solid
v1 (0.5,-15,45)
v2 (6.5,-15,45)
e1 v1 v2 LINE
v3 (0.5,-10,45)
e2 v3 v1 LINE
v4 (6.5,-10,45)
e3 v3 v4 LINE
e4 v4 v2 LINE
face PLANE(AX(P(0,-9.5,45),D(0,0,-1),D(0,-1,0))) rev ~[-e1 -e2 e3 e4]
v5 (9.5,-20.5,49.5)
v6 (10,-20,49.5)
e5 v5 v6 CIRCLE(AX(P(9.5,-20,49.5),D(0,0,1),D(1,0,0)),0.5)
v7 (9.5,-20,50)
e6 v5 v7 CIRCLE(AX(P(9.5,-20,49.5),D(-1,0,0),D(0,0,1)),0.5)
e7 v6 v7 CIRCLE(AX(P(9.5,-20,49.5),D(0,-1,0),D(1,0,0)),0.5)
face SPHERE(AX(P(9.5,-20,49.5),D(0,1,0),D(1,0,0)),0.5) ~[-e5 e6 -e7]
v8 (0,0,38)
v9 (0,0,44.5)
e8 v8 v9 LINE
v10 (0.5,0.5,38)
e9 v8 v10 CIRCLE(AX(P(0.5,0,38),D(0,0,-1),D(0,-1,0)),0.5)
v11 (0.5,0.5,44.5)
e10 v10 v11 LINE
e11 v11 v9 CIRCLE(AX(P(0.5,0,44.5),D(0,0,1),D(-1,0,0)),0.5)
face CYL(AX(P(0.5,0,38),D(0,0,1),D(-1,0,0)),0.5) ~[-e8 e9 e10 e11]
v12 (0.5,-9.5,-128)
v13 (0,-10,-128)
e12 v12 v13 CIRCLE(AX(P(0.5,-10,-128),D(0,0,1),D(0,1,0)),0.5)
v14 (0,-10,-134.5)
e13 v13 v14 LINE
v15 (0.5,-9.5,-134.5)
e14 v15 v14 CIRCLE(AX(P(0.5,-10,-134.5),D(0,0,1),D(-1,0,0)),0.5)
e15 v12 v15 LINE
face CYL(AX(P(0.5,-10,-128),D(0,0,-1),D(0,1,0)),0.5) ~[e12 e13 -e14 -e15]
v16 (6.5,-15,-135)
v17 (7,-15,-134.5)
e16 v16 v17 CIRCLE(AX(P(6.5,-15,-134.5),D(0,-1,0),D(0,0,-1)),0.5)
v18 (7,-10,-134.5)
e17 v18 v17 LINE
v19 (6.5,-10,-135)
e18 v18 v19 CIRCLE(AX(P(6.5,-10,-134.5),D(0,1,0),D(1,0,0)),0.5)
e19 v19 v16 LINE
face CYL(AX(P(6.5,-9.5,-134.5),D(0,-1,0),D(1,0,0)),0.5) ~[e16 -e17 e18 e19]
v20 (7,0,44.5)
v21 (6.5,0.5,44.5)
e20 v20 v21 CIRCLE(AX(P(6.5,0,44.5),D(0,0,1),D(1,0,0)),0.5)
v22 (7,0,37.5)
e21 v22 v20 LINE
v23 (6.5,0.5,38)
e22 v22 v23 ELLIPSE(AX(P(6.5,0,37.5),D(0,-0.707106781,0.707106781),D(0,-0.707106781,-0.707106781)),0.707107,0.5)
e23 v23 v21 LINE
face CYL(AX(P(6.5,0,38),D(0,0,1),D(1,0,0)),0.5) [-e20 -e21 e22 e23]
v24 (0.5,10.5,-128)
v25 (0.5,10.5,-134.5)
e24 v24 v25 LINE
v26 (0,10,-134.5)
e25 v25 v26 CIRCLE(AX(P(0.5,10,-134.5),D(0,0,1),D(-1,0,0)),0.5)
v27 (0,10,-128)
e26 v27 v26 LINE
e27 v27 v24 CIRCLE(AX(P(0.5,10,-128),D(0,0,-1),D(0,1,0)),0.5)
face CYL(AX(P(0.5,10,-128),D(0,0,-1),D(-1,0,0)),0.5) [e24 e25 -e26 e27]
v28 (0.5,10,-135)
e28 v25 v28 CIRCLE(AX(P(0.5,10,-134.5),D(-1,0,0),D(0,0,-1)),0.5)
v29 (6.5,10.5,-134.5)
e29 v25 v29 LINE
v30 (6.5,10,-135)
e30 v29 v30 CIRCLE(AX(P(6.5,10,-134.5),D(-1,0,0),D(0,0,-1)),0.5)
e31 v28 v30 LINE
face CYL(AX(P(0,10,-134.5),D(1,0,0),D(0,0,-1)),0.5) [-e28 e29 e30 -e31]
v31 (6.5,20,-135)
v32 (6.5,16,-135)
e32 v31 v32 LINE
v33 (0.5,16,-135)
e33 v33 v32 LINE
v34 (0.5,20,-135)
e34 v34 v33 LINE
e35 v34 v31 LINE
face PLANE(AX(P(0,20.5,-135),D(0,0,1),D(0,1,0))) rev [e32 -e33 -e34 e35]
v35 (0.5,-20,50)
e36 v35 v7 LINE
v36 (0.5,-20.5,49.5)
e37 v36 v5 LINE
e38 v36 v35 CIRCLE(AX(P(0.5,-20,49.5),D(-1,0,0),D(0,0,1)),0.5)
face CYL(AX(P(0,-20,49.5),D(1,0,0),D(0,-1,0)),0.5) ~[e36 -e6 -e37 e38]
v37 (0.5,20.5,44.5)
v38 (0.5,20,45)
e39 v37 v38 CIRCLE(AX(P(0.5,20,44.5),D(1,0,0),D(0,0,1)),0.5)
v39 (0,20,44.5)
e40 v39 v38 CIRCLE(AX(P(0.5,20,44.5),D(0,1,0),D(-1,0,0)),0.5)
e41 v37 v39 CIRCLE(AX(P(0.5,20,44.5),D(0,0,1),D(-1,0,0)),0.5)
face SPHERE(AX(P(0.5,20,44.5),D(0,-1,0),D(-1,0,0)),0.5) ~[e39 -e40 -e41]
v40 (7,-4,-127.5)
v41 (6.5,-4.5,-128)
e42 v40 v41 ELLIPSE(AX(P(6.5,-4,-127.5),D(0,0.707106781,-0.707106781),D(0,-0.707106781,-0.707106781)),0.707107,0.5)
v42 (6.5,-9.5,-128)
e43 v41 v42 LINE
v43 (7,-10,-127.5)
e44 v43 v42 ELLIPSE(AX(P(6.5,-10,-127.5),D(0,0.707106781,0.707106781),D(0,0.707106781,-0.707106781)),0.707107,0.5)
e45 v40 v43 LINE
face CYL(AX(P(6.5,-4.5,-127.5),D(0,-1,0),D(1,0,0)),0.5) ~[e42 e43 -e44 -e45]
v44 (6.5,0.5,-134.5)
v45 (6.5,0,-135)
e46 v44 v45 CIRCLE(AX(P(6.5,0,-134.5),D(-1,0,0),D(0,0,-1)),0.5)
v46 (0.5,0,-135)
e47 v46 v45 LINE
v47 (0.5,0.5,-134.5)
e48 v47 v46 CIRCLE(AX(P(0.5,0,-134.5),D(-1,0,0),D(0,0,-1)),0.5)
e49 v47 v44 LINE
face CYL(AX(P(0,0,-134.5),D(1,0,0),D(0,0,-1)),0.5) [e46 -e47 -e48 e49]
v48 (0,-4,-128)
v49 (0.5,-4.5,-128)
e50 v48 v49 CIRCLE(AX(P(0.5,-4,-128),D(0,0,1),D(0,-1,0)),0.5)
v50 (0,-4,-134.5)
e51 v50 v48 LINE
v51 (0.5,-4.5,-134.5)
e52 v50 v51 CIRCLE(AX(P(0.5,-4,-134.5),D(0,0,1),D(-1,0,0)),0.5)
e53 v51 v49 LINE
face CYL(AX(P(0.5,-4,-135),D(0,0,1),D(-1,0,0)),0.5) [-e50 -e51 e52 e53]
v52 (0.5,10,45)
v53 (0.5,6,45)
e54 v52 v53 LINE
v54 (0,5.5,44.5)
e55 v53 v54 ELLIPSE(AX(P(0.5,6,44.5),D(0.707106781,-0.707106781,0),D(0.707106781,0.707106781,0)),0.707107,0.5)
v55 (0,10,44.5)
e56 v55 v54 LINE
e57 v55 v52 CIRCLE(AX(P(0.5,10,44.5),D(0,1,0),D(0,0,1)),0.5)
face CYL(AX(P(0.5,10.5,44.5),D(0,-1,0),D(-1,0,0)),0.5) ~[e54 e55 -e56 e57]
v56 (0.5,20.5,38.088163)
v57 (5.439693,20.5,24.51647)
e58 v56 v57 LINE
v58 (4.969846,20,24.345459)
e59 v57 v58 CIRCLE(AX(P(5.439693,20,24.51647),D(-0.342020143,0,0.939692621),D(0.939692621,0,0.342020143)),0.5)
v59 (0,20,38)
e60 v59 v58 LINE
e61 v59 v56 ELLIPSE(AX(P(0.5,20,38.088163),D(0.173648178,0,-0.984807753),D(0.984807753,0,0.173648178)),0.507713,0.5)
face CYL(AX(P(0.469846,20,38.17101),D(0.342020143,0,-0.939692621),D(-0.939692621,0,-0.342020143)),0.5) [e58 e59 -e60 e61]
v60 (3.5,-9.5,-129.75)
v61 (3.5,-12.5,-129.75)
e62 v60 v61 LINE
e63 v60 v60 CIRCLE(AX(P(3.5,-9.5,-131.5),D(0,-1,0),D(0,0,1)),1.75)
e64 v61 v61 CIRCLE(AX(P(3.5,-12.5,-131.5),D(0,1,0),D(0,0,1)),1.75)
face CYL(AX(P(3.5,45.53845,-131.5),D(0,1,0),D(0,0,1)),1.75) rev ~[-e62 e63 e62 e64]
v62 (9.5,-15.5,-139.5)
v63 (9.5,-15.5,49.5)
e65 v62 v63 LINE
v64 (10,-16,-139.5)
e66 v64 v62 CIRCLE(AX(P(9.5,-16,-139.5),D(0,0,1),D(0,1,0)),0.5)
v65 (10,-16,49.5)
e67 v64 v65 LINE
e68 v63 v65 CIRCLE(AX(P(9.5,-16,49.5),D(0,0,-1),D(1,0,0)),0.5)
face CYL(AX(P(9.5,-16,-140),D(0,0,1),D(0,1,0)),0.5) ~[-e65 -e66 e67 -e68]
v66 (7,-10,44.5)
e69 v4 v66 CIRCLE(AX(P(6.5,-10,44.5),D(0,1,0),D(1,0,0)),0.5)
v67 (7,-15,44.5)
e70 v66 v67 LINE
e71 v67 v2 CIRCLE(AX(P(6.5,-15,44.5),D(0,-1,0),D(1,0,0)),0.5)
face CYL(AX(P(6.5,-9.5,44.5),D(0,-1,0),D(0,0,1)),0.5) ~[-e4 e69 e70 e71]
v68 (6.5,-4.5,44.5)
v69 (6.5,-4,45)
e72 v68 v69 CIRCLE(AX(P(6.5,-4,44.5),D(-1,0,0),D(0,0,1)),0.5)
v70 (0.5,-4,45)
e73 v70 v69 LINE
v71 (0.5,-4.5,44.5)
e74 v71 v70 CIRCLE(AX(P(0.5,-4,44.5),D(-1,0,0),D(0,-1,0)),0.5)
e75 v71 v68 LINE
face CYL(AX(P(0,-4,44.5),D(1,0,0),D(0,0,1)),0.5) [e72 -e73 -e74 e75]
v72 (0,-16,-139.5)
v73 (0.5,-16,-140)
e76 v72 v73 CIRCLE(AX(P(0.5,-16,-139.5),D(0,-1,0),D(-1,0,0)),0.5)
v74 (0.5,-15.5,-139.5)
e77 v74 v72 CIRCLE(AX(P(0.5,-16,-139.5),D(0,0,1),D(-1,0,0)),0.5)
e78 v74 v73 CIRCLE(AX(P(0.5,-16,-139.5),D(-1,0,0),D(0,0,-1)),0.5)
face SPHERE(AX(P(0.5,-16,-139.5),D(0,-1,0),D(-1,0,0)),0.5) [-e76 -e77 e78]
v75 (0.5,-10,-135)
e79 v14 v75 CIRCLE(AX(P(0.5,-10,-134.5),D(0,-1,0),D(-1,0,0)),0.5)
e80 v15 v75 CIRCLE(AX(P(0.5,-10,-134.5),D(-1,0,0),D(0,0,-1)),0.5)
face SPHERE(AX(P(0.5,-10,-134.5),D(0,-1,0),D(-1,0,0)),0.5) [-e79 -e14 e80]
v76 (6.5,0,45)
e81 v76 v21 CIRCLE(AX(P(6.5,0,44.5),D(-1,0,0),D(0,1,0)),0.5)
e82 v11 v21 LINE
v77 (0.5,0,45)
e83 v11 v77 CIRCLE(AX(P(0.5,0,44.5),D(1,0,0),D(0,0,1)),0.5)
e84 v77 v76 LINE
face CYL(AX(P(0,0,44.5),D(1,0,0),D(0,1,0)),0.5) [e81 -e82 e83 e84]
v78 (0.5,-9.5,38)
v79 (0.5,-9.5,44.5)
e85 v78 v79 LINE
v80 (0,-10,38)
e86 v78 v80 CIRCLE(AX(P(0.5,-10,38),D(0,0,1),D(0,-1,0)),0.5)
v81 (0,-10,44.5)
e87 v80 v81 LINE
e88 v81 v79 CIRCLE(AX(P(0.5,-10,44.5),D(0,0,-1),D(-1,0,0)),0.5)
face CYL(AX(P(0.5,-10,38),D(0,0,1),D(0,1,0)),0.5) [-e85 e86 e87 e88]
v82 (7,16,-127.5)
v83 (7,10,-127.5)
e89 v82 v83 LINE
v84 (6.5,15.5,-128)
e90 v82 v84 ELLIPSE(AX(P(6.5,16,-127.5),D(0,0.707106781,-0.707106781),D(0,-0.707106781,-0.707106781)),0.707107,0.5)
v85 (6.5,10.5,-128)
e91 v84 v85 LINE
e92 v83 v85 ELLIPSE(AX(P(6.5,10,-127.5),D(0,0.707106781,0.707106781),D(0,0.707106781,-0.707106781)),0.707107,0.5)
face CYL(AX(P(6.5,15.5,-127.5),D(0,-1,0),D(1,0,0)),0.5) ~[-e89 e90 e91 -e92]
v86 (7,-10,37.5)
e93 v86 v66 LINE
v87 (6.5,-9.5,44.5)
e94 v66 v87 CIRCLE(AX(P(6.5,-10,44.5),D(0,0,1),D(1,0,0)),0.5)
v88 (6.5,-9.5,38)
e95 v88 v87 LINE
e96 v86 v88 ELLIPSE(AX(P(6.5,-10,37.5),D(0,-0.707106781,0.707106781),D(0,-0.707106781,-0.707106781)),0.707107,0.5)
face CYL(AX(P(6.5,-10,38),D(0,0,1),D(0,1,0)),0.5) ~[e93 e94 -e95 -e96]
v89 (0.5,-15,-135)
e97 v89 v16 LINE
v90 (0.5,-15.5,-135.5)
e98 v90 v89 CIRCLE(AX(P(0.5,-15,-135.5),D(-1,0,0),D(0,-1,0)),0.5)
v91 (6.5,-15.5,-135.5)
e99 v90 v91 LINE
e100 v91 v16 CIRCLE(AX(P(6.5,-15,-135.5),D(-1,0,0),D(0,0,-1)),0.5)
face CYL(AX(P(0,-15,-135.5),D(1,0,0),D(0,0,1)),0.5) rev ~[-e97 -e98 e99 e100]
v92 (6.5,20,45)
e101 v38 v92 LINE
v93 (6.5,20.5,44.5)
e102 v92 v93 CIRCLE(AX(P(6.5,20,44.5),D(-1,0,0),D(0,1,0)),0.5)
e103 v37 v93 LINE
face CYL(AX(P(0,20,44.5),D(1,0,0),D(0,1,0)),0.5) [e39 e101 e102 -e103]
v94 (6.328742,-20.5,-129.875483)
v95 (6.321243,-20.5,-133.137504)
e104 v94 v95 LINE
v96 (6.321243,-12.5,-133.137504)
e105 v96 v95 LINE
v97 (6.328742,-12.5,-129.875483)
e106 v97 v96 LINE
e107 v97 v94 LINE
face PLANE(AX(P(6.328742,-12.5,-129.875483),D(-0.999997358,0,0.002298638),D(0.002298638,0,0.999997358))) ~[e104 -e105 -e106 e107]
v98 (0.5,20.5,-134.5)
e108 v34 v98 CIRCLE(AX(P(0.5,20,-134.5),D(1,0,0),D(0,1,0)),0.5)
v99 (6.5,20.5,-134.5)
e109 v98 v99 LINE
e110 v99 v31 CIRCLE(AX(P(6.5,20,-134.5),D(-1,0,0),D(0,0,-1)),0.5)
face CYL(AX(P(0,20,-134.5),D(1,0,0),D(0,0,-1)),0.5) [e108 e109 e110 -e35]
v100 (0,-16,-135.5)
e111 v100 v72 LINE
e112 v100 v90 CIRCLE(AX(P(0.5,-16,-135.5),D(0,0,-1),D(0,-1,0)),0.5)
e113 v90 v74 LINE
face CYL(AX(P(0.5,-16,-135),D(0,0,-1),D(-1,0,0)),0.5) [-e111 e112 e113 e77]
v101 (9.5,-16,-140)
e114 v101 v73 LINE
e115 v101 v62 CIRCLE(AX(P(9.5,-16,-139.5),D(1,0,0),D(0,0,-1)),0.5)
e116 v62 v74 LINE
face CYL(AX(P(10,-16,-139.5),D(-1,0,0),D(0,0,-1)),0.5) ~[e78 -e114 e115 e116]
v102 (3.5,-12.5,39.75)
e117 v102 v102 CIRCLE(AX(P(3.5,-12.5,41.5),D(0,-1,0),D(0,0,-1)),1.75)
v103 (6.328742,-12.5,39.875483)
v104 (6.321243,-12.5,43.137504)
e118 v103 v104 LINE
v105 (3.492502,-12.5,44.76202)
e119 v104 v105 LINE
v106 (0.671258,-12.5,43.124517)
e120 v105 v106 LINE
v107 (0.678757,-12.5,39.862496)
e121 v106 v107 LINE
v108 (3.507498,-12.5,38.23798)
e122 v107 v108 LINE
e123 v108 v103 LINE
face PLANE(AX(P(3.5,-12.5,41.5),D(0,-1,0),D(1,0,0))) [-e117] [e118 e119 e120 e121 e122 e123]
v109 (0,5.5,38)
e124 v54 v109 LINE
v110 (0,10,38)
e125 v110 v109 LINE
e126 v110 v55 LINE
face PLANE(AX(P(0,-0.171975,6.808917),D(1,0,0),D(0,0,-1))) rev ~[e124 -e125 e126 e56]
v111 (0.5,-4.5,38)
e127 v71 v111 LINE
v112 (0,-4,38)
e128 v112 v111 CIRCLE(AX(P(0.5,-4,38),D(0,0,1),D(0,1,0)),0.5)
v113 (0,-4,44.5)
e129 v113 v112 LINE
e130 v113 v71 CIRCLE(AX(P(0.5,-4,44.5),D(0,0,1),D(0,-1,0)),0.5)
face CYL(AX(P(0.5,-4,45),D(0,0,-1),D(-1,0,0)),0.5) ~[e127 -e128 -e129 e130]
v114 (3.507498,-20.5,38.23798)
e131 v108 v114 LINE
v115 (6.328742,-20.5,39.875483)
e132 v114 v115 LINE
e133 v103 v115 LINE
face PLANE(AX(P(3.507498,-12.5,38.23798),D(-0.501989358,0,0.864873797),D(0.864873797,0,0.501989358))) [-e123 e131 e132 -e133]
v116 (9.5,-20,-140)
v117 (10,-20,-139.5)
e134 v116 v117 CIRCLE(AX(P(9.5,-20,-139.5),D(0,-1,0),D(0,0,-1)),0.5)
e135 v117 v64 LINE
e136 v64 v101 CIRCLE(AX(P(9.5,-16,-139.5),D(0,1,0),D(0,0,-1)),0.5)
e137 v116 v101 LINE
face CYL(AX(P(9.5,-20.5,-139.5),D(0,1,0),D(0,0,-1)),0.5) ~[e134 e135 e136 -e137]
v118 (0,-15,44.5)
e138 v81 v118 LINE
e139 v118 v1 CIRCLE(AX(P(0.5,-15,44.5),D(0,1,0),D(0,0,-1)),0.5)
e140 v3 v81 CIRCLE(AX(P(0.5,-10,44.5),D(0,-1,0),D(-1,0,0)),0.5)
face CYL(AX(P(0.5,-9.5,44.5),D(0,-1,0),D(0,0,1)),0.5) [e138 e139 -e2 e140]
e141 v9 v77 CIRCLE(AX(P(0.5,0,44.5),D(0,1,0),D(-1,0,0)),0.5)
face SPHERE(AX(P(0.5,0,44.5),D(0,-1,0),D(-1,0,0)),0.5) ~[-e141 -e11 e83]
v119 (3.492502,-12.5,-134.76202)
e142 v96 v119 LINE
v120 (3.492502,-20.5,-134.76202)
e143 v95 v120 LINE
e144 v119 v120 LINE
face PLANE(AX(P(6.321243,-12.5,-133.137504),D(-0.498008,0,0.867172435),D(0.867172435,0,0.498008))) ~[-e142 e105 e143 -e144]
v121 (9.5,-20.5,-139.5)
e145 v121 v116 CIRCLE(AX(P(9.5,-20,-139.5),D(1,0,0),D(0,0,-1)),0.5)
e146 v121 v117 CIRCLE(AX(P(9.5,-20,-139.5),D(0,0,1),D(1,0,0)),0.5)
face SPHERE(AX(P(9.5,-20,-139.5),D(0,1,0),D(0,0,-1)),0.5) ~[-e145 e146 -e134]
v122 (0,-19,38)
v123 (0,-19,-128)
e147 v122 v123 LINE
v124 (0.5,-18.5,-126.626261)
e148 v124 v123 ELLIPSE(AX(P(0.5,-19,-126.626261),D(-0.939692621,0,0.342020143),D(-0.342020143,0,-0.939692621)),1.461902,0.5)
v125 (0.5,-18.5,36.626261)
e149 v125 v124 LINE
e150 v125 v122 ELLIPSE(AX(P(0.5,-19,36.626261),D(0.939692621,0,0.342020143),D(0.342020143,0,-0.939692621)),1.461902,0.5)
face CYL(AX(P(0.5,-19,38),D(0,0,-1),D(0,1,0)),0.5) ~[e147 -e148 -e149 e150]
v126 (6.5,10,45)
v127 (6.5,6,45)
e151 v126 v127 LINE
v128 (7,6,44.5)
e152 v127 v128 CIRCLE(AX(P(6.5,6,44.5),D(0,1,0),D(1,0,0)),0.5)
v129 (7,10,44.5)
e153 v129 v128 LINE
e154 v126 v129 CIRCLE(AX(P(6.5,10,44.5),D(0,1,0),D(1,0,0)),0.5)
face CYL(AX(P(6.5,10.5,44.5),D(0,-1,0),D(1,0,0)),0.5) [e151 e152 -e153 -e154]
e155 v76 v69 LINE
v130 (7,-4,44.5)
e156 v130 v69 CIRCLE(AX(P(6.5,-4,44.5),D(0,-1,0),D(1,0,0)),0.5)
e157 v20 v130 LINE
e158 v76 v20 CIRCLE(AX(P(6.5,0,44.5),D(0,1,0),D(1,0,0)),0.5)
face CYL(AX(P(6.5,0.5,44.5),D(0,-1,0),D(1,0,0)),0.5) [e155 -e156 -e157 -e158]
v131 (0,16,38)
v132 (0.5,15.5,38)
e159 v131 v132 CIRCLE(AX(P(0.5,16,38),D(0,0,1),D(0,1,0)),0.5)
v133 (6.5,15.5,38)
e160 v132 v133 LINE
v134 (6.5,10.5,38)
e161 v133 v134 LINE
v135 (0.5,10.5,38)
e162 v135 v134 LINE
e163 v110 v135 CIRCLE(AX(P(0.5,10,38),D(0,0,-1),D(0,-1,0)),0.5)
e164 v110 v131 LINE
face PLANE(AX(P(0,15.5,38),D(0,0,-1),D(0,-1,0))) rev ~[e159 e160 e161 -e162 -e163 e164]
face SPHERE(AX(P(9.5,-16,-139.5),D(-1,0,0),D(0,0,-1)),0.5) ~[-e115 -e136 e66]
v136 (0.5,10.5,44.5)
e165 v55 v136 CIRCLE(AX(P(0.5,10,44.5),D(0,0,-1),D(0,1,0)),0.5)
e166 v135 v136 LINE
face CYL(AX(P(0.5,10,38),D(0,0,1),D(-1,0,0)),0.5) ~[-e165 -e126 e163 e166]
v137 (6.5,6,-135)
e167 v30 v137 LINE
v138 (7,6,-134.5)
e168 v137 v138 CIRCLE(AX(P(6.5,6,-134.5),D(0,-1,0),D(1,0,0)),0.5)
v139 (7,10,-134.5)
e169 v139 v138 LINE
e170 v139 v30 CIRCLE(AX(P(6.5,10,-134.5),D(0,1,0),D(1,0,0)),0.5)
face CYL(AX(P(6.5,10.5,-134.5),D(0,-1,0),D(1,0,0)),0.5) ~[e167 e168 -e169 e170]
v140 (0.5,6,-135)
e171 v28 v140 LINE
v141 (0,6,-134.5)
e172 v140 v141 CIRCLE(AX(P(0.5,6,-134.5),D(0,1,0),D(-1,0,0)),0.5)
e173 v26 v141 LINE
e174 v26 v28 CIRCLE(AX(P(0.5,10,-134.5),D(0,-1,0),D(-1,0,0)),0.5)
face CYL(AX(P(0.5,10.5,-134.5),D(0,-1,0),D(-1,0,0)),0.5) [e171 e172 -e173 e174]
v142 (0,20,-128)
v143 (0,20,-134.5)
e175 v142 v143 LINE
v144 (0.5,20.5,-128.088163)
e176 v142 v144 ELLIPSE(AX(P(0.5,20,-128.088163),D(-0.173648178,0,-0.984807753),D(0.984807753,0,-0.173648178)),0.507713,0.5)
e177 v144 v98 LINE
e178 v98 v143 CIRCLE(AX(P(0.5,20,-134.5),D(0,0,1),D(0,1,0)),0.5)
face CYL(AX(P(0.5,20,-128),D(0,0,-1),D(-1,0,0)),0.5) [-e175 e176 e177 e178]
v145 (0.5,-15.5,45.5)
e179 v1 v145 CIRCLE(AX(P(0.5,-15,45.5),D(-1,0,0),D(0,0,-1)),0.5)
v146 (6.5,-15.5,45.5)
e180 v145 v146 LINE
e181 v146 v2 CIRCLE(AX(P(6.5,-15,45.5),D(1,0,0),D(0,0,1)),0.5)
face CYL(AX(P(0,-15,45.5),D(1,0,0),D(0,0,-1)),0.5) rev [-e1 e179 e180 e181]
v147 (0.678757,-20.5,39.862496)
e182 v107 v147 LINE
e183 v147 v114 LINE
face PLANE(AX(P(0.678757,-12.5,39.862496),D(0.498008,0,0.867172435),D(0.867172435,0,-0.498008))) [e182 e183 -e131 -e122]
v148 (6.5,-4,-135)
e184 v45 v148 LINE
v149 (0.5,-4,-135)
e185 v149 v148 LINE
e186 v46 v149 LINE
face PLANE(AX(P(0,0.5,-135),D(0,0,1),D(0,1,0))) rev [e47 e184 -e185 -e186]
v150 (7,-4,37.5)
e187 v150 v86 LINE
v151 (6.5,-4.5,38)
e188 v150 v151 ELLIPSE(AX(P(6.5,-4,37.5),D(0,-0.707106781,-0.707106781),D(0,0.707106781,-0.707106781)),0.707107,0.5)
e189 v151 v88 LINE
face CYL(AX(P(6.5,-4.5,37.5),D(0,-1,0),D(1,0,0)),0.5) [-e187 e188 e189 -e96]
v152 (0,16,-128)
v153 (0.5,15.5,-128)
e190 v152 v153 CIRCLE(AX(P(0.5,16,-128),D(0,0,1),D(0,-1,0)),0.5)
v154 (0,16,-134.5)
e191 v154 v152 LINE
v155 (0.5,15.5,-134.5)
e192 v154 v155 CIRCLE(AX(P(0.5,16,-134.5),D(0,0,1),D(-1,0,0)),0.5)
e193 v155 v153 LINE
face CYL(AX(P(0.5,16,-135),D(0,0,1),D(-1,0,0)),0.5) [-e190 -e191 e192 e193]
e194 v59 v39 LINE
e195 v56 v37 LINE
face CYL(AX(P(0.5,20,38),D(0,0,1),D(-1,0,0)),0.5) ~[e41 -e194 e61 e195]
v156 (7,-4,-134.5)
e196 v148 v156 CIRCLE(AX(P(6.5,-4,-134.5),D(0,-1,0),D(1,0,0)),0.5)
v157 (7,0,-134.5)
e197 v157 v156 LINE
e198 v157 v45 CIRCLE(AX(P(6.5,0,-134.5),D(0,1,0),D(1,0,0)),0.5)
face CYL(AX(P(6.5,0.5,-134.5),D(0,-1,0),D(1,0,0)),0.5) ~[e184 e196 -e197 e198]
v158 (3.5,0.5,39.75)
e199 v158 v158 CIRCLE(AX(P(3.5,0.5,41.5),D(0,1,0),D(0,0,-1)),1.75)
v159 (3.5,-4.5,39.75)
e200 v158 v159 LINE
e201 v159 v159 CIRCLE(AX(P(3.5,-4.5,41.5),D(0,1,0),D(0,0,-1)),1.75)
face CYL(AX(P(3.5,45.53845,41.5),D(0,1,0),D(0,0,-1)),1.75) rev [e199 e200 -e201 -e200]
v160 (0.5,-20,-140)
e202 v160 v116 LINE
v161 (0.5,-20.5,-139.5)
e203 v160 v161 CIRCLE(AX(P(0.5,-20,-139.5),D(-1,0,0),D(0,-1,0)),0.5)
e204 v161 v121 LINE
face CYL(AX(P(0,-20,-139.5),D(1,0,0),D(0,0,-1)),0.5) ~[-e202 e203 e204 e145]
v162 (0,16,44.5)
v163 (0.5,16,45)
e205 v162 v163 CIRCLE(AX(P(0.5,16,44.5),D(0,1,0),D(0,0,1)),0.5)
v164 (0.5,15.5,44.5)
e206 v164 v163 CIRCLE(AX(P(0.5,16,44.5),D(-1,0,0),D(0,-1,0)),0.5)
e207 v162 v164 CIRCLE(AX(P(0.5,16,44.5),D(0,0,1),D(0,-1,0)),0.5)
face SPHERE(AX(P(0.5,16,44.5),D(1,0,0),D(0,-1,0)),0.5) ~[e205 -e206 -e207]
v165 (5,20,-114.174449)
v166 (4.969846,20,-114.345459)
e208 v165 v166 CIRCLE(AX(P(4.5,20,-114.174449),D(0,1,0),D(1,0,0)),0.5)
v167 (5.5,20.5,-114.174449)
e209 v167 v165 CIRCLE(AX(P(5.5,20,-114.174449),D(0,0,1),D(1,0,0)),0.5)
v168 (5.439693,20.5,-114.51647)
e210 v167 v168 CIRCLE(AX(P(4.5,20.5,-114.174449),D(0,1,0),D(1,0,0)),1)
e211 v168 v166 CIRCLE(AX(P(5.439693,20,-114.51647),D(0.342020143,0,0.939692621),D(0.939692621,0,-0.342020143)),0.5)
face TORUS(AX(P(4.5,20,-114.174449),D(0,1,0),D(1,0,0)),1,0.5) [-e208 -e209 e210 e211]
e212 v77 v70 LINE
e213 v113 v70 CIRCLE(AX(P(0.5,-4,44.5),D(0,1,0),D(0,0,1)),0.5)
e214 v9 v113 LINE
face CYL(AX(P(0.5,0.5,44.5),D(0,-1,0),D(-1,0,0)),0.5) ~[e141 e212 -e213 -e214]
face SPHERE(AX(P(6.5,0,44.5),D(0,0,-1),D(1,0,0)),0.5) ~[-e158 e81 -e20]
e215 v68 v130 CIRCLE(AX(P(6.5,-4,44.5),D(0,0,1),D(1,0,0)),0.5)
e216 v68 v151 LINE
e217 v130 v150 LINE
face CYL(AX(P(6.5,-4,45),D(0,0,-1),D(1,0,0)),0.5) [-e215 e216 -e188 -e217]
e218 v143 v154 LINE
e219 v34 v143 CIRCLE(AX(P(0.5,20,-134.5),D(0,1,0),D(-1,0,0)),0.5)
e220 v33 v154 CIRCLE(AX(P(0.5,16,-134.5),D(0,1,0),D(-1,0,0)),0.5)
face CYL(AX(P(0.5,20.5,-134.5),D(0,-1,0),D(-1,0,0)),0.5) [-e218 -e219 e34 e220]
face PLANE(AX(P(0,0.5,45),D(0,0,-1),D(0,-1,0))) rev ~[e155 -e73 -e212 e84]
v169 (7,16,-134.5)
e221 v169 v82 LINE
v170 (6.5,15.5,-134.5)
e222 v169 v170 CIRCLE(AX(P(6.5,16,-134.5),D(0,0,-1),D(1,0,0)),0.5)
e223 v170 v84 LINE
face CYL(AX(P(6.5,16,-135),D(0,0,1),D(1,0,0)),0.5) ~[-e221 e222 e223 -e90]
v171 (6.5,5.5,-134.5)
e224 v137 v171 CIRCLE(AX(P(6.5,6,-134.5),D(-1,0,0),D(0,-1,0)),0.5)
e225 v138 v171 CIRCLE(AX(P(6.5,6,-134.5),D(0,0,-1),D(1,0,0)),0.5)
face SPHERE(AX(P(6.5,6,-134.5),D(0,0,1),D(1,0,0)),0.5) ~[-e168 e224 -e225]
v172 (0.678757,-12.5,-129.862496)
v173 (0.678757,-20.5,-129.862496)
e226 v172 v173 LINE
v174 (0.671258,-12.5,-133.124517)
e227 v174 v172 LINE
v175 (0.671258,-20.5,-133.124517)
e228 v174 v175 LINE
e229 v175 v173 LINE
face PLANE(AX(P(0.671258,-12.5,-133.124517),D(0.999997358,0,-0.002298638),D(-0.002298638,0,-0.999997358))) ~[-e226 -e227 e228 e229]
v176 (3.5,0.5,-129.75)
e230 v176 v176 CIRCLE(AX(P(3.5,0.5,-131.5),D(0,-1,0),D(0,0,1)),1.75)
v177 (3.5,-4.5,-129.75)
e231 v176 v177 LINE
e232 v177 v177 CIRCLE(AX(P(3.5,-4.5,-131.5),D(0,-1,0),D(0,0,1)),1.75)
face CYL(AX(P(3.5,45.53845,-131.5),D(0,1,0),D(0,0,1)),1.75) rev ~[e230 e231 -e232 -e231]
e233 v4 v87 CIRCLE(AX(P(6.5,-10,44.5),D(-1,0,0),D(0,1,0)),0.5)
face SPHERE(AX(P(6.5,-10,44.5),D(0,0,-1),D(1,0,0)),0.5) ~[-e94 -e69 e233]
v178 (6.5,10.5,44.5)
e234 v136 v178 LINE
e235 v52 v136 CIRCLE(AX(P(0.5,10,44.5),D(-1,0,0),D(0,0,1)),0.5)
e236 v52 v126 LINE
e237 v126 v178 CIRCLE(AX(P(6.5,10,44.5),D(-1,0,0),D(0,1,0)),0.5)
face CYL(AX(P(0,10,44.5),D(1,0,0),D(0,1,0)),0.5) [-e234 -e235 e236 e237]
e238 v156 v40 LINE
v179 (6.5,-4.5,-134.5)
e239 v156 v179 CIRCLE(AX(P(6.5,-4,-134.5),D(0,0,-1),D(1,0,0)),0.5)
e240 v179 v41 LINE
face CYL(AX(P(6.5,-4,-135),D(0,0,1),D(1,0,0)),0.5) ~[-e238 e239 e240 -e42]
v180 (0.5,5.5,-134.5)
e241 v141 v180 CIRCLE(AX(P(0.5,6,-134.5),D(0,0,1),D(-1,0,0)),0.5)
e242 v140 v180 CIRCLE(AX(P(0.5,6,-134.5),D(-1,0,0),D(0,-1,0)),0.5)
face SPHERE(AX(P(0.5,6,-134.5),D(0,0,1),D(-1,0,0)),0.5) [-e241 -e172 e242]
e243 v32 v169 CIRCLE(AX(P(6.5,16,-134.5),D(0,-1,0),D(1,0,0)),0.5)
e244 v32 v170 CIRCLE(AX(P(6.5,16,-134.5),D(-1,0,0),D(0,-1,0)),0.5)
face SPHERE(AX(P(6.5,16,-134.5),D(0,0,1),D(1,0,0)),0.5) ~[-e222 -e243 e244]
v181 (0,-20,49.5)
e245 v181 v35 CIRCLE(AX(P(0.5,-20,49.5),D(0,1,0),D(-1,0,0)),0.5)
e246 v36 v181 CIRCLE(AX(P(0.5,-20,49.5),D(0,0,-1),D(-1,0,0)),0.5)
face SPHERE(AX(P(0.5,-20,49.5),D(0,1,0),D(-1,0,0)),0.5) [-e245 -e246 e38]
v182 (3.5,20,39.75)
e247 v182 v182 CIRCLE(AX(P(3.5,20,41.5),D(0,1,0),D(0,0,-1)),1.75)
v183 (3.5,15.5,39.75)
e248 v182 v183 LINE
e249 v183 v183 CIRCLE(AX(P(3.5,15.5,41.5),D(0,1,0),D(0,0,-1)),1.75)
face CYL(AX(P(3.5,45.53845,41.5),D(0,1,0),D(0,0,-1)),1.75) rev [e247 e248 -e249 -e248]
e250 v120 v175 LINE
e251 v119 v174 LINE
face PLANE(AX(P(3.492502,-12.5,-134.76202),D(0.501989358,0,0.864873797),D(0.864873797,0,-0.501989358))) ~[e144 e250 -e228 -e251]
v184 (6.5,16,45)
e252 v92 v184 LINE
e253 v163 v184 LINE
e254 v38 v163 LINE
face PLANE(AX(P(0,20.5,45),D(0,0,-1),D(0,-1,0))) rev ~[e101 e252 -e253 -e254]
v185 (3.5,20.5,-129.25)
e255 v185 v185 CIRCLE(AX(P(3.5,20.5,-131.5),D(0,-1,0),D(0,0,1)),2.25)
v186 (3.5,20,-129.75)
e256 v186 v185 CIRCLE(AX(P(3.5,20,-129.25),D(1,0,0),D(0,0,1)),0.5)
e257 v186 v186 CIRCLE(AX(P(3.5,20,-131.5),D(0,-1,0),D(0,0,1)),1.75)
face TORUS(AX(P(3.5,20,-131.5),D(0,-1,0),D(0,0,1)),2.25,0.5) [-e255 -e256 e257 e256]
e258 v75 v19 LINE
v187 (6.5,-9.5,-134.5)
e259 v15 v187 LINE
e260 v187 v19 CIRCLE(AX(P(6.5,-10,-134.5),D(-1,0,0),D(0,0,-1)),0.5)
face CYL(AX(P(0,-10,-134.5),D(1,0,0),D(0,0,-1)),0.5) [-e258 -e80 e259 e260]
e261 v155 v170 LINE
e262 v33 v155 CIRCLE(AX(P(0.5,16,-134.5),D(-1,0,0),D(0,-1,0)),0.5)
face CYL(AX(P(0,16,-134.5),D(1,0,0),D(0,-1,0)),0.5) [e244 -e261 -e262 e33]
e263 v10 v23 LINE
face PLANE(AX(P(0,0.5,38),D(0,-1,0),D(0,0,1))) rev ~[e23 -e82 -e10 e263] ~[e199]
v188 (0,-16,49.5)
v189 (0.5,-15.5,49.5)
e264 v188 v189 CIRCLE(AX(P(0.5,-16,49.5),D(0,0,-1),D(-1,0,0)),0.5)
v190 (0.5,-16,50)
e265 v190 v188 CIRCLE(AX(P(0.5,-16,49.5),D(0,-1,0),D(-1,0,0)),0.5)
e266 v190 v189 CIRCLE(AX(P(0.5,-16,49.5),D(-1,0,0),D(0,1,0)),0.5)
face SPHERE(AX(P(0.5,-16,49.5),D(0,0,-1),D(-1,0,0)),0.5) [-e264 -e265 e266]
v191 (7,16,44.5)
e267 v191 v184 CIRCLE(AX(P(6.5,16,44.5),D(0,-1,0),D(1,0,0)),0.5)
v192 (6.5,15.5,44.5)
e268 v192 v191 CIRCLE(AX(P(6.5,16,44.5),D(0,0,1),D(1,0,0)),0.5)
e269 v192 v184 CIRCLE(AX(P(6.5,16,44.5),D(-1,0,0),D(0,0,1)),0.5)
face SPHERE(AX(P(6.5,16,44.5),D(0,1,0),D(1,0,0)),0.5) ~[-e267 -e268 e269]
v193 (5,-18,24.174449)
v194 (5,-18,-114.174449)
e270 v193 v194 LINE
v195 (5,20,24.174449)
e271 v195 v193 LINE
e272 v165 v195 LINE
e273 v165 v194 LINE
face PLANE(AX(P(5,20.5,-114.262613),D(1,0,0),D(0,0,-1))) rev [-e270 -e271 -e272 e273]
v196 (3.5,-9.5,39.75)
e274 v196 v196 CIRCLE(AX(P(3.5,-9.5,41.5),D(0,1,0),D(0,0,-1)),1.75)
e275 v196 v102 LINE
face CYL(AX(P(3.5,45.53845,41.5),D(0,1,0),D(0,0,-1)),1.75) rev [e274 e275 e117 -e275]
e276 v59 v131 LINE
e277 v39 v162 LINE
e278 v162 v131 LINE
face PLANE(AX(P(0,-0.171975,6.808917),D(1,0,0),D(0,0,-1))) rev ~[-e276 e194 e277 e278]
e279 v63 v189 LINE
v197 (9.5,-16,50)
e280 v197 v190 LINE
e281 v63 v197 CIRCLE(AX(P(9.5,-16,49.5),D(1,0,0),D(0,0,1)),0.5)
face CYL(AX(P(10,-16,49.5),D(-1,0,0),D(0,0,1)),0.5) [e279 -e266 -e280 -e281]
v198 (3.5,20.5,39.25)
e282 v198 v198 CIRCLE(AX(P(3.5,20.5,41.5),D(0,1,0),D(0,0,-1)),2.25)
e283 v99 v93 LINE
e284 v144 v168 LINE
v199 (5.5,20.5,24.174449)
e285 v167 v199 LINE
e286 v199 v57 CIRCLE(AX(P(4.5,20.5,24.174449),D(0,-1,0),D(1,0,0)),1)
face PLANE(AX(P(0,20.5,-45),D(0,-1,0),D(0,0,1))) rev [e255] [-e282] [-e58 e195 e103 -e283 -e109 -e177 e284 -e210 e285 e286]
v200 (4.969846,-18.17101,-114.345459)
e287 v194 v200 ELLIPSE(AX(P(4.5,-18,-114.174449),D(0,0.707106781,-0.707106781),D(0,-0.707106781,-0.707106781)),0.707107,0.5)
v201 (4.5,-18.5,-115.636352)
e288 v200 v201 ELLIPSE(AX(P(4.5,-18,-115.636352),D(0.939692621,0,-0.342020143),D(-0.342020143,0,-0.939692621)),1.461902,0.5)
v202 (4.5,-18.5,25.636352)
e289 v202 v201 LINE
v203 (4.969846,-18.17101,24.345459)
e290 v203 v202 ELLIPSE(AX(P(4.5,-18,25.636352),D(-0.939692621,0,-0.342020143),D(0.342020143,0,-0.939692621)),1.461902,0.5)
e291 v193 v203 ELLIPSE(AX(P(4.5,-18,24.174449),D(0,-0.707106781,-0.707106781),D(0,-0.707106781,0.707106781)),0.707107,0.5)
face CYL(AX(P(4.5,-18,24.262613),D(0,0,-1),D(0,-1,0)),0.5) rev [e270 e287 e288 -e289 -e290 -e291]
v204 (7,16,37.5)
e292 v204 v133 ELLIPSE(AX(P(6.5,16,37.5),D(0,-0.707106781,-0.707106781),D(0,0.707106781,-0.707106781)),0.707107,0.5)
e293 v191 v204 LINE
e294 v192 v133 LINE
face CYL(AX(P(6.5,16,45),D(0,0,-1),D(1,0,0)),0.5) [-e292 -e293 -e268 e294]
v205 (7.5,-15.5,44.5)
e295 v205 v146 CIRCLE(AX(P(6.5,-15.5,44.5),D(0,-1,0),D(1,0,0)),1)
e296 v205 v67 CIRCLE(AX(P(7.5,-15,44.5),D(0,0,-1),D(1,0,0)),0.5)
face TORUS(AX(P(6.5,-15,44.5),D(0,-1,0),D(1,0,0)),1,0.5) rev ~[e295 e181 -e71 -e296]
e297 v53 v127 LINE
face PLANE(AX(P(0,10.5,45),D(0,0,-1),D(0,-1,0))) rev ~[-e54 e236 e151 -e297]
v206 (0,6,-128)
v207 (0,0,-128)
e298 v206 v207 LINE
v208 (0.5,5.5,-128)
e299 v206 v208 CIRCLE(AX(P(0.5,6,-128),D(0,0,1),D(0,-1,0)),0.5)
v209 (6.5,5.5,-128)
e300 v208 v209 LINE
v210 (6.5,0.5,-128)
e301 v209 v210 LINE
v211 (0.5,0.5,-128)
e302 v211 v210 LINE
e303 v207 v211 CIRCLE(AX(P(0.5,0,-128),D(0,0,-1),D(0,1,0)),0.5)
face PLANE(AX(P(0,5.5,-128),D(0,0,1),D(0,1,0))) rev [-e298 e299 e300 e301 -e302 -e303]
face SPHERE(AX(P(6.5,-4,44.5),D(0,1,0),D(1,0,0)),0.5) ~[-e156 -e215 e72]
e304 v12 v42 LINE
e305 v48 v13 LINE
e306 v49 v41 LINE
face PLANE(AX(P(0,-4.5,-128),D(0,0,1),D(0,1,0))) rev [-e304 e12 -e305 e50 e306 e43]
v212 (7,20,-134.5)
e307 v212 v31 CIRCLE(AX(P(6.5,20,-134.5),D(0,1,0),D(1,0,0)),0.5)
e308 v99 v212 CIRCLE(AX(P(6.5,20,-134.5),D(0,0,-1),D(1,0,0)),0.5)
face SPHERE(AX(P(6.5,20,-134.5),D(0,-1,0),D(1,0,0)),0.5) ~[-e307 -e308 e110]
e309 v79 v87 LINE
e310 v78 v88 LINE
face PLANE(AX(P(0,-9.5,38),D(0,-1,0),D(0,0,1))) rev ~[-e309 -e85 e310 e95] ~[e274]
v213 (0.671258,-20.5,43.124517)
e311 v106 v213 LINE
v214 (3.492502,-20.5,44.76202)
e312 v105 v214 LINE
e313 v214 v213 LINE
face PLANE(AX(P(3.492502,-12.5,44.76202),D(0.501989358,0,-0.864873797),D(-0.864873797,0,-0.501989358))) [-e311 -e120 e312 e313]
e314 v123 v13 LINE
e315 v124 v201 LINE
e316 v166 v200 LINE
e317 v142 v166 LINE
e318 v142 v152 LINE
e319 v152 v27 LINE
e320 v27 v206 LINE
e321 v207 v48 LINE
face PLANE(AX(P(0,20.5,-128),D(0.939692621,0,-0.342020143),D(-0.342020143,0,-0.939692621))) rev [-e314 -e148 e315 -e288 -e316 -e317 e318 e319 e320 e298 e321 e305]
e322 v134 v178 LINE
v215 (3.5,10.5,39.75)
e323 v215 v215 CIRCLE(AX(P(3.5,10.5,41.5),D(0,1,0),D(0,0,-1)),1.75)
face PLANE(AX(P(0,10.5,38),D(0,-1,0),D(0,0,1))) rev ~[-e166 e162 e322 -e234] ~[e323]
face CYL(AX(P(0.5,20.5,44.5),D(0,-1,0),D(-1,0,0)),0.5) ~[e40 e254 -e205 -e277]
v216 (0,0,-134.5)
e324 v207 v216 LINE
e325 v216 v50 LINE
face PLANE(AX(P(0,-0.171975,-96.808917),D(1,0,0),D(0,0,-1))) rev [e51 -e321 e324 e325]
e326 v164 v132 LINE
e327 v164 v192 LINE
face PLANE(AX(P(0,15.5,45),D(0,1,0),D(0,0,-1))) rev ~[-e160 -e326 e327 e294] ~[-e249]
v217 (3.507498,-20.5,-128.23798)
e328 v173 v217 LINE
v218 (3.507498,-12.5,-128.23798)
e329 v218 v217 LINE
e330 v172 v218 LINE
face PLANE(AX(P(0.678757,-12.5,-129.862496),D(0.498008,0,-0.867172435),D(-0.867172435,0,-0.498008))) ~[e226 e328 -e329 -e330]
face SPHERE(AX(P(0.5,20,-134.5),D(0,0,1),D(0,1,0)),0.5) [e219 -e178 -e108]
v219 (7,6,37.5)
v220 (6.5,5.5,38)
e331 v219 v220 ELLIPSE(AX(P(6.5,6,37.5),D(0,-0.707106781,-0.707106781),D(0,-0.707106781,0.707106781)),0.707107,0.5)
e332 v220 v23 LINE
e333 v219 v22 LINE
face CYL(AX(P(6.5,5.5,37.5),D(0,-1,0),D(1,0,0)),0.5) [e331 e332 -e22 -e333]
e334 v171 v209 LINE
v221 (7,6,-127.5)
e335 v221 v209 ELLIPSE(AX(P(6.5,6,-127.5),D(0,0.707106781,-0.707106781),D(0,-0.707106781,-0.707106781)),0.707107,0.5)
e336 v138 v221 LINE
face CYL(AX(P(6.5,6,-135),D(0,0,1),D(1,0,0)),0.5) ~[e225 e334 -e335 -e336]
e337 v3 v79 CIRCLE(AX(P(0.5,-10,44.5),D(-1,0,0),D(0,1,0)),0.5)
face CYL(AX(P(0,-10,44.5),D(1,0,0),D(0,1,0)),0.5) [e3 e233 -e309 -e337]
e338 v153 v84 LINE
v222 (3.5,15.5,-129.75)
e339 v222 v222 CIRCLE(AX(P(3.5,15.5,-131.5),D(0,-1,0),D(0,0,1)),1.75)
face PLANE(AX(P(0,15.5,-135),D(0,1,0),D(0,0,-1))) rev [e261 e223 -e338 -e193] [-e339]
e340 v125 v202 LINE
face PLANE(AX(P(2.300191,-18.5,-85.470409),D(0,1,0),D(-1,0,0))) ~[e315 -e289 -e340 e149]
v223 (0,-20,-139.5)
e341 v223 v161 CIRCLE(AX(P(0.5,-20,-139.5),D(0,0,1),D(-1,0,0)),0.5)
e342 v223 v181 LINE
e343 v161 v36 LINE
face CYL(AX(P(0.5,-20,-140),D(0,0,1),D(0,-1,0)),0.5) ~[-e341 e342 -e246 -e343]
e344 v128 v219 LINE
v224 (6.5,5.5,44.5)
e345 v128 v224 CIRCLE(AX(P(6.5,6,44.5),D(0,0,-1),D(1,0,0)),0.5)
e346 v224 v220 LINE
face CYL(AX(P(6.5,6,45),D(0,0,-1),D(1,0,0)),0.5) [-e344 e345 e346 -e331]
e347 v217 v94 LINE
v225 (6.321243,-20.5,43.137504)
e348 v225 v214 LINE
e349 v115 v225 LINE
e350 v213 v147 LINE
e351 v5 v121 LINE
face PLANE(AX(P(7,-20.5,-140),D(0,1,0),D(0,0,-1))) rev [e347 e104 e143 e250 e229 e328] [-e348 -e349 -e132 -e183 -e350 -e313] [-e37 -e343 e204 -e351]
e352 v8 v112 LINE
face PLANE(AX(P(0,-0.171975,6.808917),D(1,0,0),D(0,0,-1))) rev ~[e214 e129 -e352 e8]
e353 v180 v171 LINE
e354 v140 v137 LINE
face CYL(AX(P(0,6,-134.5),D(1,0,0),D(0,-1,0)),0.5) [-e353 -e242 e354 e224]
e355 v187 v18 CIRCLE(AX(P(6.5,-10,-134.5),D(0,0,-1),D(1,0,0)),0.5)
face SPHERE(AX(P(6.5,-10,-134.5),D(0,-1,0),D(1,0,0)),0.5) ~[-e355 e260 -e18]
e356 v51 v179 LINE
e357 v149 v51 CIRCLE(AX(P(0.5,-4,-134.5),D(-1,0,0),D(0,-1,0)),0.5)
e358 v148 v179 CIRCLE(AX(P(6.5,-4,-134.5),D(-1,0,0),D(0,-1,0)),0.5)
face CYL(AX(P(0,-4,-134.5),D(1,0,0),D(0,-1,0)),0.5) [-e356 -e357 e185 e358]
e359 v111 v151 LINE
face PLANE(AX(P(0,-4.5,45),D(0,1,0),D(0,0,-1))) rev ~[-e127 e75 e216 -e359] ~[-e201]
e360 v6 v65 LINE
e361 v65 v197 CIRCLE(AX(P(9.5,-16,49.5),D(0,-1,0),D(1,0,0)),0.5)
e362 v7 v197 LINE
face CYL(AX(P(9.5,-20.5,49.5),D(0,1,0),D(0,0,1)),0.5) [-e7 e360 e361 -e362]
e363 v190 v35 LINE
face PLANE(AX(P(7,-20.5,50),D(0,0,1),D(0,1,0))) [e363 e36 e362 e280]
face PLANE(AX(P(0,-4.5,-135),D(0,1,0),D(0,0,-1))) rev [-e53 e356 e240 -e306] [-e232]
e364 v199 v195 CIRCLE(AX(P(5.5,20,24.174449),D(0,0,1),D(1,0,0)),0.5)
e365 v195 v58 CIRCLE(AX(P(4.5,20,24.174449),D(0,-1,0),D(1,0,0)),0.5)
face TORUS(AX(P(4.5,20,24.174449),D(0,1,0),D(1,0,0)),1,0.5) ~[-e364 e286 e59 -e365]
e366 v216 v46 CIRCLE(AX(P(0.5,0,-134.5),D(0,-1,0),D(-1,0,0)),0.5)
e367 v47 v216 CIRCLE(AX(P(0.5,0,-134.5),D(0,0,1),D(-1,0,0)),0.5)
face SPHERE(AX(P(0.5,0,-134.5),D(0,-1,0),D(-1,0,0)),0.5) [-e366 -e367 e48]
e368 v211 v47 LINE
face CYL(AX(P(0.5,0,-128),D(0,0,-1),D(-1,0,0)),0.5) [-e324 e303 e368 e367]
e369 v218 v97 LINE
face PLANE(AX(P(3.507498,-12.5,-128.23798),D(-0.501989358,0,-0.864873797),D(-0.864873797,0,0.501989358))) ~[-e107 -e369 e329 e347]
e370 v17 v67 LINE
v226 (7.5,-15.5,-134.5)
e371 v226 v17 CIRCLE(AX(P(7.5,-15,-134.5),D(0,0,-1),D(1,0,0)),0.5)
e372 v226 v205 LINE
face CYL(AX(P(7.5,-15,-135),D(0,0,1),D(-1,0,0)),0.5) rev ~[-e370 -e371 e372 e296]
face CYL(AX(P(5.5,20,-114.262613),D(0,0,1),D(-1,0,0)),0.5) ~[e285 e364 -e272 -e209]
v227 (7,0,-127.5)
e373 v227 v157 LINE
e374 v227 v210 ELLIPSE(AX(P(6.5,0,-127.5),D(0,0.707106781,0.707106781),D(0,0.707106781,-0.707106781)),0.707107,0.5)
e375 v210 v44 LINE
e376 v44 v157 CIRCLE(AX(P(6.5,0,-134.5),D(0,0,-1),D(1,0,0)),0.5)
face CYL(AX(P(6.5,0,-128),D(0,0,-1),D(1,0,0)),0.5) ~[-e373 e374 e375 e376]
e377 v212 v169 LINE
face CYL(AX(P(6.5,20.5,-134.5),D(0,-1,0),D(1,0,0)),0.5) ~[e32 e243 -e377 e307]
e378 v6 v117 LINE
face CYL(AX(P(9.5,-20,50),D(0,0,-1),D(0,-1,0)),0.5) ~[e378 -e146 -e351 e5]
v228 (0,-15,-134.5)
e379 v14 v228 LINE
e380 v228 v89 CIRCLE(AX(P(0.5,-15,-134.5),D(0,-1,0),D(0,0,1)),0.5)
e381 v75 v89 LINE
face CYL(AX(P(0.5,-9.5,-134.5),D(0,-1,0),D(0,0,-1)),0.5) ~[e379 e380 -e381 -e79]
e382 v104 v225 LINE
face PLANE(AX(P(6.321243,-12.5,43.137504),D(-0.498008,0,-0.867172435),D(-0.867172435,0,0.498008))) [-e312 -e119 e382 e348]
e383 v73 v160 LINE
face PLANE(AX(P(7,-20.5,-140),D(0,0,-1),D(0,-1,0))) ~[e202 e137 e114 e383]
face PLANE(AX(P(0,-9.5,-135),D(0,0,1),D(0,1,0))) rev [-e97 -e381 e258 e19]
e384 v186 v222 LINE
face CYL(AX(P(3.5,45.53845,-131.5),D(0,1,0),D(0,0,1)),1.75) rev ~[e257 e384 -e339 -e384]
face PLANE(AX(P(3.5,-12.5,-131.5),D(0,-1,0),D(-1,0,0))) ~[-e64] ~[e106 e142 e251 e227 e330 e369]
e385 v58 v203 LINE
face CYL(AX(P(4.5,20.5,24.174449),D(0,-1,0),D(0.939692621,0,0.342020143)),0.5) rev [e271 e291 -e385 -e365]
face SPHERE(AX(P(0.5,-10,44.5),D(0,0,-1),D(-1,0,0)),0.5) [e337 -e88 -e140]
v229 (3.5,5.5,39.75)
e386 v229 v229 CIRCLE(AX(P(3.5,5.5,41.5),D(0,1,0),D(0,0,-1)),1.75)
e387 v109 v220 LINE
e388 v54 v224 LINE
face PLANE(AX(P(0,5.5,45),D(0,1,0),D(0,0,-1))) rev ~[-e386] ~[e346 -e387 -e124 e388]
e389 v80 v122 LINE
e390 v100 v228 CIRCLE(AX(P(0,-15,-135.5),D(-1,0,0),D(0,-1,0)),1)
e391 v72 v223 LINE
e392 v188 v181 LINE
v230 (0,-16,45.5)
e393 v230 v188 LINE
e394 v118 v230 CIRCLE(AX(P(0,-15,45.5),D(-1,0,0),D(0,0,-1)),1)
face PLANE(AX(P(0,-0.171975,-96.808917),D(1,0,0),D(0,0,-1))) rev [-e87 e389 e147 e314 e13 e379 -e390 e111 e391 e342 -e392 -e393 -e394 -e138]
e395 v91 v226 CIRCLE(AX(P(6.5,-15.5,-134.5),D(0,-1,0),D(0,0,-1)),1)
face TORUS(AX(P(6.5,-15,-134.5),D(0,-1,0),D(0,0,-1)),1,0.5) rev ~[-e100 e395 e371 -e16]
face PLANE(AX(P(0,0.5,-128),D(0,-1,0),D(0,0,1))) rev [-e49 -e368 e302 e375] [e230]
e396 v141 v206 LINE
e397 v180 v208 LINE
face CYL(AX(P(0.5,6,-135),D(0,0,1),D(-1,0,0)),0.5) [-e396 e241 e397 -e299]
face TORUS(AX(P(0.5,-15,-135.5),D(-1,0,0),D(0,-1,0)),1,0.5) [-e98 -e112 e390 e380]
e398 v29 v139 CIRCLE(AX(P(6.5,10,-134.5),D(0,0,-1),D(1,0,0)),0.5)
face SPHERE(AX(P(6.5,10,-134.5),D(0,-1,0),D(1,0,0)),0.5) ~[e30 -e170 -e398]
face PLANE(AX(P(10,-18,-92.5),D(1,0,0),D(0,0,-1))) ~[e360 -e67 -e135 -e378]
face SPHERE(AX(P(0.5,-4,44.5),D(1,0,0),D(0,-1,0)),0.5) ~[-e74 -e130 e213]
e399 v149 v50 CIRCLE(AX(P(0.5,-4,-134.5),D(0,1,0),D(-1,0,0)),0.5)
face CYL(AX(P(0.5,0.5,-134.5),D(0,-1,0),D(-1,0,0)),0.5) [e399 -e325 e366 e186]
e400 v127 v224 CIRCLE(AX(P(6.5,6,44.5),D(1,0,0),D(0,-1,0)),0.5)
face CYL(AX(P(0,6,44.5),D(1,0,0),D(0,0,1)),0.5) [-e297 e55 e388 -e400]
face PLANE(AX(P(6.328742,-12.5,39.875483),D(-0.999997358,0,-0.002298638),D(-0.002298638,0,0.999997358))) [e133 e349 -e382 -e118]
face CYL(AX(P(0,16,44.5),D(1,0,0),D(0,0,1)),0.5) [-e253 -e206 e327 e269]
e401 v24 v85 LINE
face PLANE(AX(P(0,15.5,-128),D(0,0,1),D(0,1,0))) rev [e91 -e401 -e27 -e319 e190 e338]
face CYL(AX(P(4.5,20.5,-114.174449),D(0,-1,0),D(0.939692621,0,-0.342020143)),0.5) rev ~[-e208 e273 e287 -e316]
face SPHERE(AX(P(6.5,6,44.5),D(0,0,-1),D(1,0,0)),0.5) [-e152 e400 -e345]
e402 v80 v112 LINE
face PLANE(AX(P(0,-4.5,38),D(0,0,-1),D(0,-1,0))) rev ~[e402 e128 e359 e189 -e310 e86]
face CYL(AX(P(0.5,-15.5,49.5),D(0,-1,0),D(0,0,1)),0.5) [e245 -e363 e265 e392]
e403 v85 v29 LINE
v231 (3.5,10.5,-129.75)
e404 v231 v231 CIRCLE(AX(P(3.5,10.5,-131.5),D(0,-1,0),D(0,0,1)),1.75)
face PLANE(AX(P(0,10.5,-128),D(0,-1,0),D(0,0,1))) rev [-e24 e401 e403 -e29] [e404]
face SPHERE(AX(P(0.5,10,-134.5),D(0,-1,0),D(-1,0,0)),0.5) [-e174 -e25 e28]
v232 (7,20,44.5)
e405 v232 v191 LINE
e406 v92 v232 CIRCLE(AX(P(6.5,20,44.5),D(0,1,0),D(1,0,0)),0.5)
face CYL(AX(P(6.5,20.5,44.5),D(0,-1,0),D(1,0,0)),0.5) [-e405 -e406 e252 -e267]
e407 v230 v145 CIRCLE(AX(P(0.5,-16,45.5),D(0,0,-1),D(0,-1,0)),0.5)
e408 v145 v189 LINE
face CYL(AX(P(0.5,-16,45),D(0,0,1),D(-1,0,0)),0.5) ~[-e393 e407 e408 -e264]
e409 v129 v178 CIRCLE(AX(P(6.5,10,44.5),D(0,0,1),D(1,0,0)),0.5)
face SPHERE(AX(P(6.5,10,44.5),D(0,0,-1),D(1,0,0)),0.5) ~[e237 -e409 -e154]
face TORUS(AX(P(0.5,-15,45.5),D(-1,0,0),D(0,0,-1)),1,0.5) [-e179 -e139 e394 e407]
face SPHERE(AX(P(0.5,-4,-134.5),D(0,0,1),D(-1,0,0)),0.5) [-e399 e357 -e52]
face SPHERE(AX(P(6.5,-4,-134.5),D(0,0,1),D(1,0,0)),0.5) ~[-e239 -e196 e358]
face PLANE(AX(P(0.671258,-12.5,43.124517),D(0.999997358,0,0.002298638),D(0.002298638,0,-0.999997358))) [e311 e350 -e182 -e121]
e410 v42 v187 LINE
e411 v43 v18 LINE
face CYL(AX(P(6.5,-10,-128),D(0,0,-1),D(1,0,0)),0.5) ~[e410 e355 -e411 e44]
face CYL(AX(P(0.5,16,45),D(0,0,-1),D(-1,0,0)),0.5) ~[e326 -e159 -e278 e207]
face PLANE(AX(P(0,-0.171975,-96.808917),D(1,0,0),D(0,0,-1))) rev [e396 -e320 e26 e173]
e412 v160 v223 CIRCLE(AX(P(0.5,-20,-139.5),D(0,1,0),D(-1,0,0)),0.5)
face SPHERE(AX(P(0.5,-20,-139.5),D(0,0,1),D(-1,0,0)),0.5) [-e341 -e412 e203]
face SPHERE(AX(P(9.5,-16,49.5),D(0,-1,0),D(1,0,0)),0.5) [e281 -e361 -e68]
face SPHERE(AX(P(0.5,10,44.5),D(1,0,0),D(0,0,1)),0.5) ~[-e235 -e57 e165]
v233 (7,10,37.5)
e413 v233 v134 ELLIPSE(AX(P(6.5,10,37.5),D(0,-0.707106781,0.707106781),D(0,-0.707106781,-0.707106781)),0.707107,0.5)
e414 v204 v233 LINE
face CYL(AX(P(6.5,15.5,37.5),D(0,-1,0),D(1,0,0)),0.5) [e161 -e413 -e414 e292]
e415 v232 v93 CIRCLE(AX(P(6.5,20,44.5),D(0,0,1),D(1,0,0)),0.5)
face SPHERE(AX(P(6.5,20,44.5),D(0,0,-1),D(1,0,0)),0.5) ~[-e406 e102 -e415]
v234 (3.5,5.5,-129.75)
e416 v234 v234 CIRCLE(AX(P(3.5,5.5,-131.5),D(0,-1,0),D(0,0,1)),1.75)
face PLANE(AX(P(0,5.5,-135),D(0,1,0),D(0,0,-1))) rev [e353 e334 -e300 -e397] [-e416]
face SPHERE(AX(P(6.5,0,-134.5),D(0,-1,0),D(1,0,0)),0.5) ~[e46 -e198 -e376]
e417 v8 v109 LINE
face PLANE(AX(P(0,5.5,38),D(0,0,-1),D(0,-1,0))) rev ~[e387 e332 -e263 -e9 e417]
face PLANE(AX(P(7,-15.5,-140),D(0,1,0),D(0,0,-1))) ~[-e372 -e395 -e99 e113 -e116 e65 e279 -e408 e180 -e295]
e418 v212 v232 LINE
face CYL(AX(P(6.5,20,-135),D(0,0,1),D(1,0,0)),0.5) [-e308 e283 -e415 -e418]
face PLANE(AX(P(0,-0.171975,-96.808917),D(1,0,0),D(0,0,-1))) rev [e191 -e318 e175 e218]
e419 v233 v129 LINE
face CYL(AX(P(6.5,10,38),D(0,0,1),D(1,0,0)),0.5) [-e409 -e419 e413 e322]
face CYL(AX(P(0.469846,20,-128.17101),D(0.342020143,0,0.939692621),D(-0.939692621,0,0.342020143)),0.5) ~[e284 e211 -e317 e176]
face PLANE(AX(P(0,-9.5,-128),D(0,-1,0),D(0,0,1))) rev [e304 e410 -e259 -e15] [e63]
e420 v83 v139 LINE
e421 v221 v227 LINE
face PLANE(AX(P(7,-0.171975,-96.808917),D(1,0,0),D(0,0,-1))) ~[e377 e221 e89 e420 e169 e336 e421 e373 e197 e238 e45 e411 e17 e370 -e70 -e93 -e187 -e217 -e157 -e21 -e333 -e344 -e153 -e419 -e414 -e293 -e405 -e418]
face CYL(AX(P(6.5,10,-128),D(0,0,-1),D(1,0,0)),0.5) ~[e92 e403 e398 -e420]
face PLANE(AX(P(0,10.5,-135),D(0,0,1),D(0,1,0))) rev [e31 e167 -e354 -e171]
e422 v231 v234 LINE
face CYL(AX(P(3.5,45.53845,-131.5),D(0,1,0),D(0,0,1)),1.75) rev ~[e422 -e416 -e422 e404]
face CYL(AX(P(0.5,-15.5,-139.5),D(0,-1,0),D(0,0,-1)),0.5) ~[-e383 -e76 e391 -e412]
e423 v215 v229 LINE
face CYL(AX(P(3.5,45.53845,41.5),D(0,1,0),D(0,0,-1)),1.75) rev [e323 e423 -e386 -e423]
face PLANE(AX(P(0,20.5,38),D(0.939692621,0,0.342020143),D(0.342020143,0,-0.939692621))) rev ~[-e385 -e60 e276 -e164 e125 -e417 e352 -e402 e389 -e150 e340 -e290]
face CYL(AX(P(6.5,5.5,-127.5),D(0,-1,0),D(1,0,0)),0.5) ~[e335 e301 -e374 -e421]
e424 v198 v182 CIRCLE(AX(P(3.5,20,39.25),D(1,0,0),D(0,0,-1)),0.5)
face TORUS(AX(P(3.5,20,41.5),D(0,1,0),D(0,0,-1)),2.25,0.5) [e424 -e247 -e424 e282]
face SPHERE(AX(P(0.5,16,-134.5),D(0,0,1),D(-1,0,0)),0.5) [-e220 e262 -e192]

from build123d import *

# Parameters (mm, degrees)
BOSS_EXTRUDE1_DEPTH     = 7
CUT_EXTRUDE3_DEPTH      = 66.038450166
CUT_EXTRUDE3_DEPTH_BACK = 66.038450166
SKETCH7_R               = 1.75
SKETCH3_W               = 95
SKETCH3_H               = 5
BOSS_EXTRUDE2_DEPTH     = 3
CUT_EXTRUDE4_DEPTH      = 66.429351212
CUT_EXTRUDE4_DEPTH_BACK = 8
SKETCH7_3_R             = 1.75
CUT_EXTRUDE5_DEPTH      = 39
FILLET1_R               = 0.5


with BuildPart() as part:
    # Sketch1 → Boss-Extrude1 (new body)
    with BuildSketch(Plane(origin=(0, 0, 0), x_dir=(0, 0, -1), z_dir=(1, 0, 0))):
        Polygon((-50, -20.5), (-45, -20.5), (45, -20.5), (45, 20.5), (-38, 20.5), (-45, 20.5), (-45, 15.5), (-38, 15.5), (-38, 10.5), (-45, 10.5), (-45, 5.5), (-38, 5.5), (-38, 0.5), (-45, 0.5), (-45, -4.5), (-38, -4.5), (-38, -9.5), (-45, -9.5), (-45, -15.5), (-50, -15.5), align=None)
    extrude(amount=BOSS_EXTRUDE1_DEPTH)

    # Sketch7 → Cut-Extrude3 (cut, two sides: drawn at the far end of the back side and taken through both)
    with BuildSketch(Plane.XZ.offset(20.5).offset(-CUT_EXTRUDE3_DEPTH_BACK)):
        with Locations((3.5, 41.5)):
            Circle(SKETCH7_R)
    extrude(amount=CUT_EXTRUDE3_DEPTH + CUT_EXTRUDE3_DEPTH_BACK, mode=Mode.SUBTRACT)

    # Sketch3 → Boss-Extrude2 (add)
    with BuildSketch(Plane(origin=(7, 0, 0), x_dir=(0, 0, -1), z_dir=(1, 0, 0))):
        with Locations((-2.5, -18)):
            Rectangle(SKETCH3_W, SKETCH3_H)
    extrude(amount=BOSS_EXTRUDE2_DEPTH)

    # Sketch7<3> → Cut-Extrude4 (cut, two sides: drawn at the far end of the back side and taken through both)
    with BuildSketch(Plane.XZ.offset(20.5).offset(-CUT_EXTRUDE4_DEPTH_BACK)):
        Polygon((0.671258352, 43.12451655), (0.678756575, 39.862496147), (3.507498223, 38.237979597), (6.328741648, 39.87548345), (6.321243425, 43.137503853), (3.492501777, 44.762020403), align=None)
        with Locations((3.5, 41.5)):
            Circle(SKETCH7_3_R, mode=Mode.SUBTRACT)
    extrude(amount=CUT_EXTRUDE4_DEPTH + CUT_EXTRUDE4_DEPTH_BACK, mode=Mode.SUBTRACT)

    # Sketch8 → Cut-Extrude5 (cut)
    with BuildSketch(Plane(origin=(0, 20.5, 0), x_dir=(1, 0, 0), z_dir=(0, 1, 0))):
        Polygon((0, -38), (5, -24.262612903), (5, 45), (0, 45), align=None)
    extrude(amount=-CUT_EXTRUDE5_DEPTH, mode=Mode.SUBTRACT)

    # Mirror2: part across plane


with BuildPart() as part_1:
    add(part.part)
    add(part.part.mirror(Plane(origin=(7, 0, -45), x_dir=(1, 0, 0), z_dir=(0, 0, 1))))

    # Fillet1
    fillet1_edges = [part_1.edges().sort_by_distance(p)[0] for p in [
        (3.5, -9.5, 45),
        (3.5, -15.5, 45),
        (0, -12.5, 45),
        (5, -15.5, 50),
        (5, -20.5, 50),
        (0, -18, 50),
        (5, -20.5, -140),
        (5, -15.5, -140),
        (0, -18, -140),
        (3.5, -15.5, -135),
        (3.5, -9.5, -135),
        (0, -12.5, -135),
        (3.5, -4.5, -135),
        (3.5, 0.5, -135),
        (0, -2, -135),
        (3.5, 5.5, -135),
        (3.5, 10.5, -135),
        (0, 8, -135),
        (3.5, 15.5, -135),
        (0, 18, -135),
        (3.5, 15.5, 45),
        (0, 18, 45),
        (3.5, 10.5, 45),
        (3.5, 5.5, 45),
        (0, 8, 45),
        (3.5, 0.5, 45),
        (3.5, -4.5, 45),
        (0, -2, 45),
        (5, 1, 24.262612903),
        (5, 1, -114.262612903),
        (7, -9.5, 41.5),
        (7, -7, 38),
        (7, -4.5, 41.5),
        (7, -2, 45),
        (7, 0.5, 41.5),
        (7, 3, 38),
        (7, 5.5, 41.5),
        (7, 8, 45),
        (7, 10.5, 41.5),
        (7, 13, 38),
        (7, 15.5, 41.5),
        (7, 18, 45),
        (7, 18, -135),
        (7, 15.5, -131.5),
        (7, 13, -128),
        (7, 10.5, -131.5),
        (7, 8, -135),
        (7, 5.5, -131.5),
        (7, 3, -128),
        (7, 0.5, -131.5),
        (7, -2, -135),
        (7, -4.5, -131.5),
        (7, -7, -128),
        (7, -9.5, -131.5),
        (7, -12.5, -135),
        (7, -15.5, -45),
        (7, -12.5, 45),
        (1.75, 20.5, -131.5),
        (1.75, 20.5, 41.5),
        (5, 20.5, -45),
        (2.5, 20.5, -121.131306451),
        (0, 20.5, -131.5),
        (3.5, 20.5, -135),
        (7, 20.5, -45),
        (3.5, 20.5, 45),
        (0, 20.5, 41.5),
        (2.5, 20.5, 31.131306451),
        (0, -4.5, 41.5),
        (0, 0.5, 41.5),
        (0, 10.5, 41.5),
        (0, 15.5, 41.5),
        (0, -9.5, 41.5),
        (0, -15.5, 47.5),
        (0, 15.5, -131.5),
        (0, 10.5, -131.5),
        (0, 5.5, -131.5),
        (0, -4.5, -131.5),
        (0, 0.5, -131.5),
        (0, -9.5, -131.5),
        (0, -15.5, -137.5),
        (0, -20.5, -45),
        (5, -18.5, -45),
        (0, -18.5, -45),
        (10, -18, 50),
        (10, -18, -140),
        (10, -20.5, -45),
        (10, -15.5, -45),
    ]]
    fillet(fillet1_edges, radius=FILLET1_R)


solid = part_1.part
